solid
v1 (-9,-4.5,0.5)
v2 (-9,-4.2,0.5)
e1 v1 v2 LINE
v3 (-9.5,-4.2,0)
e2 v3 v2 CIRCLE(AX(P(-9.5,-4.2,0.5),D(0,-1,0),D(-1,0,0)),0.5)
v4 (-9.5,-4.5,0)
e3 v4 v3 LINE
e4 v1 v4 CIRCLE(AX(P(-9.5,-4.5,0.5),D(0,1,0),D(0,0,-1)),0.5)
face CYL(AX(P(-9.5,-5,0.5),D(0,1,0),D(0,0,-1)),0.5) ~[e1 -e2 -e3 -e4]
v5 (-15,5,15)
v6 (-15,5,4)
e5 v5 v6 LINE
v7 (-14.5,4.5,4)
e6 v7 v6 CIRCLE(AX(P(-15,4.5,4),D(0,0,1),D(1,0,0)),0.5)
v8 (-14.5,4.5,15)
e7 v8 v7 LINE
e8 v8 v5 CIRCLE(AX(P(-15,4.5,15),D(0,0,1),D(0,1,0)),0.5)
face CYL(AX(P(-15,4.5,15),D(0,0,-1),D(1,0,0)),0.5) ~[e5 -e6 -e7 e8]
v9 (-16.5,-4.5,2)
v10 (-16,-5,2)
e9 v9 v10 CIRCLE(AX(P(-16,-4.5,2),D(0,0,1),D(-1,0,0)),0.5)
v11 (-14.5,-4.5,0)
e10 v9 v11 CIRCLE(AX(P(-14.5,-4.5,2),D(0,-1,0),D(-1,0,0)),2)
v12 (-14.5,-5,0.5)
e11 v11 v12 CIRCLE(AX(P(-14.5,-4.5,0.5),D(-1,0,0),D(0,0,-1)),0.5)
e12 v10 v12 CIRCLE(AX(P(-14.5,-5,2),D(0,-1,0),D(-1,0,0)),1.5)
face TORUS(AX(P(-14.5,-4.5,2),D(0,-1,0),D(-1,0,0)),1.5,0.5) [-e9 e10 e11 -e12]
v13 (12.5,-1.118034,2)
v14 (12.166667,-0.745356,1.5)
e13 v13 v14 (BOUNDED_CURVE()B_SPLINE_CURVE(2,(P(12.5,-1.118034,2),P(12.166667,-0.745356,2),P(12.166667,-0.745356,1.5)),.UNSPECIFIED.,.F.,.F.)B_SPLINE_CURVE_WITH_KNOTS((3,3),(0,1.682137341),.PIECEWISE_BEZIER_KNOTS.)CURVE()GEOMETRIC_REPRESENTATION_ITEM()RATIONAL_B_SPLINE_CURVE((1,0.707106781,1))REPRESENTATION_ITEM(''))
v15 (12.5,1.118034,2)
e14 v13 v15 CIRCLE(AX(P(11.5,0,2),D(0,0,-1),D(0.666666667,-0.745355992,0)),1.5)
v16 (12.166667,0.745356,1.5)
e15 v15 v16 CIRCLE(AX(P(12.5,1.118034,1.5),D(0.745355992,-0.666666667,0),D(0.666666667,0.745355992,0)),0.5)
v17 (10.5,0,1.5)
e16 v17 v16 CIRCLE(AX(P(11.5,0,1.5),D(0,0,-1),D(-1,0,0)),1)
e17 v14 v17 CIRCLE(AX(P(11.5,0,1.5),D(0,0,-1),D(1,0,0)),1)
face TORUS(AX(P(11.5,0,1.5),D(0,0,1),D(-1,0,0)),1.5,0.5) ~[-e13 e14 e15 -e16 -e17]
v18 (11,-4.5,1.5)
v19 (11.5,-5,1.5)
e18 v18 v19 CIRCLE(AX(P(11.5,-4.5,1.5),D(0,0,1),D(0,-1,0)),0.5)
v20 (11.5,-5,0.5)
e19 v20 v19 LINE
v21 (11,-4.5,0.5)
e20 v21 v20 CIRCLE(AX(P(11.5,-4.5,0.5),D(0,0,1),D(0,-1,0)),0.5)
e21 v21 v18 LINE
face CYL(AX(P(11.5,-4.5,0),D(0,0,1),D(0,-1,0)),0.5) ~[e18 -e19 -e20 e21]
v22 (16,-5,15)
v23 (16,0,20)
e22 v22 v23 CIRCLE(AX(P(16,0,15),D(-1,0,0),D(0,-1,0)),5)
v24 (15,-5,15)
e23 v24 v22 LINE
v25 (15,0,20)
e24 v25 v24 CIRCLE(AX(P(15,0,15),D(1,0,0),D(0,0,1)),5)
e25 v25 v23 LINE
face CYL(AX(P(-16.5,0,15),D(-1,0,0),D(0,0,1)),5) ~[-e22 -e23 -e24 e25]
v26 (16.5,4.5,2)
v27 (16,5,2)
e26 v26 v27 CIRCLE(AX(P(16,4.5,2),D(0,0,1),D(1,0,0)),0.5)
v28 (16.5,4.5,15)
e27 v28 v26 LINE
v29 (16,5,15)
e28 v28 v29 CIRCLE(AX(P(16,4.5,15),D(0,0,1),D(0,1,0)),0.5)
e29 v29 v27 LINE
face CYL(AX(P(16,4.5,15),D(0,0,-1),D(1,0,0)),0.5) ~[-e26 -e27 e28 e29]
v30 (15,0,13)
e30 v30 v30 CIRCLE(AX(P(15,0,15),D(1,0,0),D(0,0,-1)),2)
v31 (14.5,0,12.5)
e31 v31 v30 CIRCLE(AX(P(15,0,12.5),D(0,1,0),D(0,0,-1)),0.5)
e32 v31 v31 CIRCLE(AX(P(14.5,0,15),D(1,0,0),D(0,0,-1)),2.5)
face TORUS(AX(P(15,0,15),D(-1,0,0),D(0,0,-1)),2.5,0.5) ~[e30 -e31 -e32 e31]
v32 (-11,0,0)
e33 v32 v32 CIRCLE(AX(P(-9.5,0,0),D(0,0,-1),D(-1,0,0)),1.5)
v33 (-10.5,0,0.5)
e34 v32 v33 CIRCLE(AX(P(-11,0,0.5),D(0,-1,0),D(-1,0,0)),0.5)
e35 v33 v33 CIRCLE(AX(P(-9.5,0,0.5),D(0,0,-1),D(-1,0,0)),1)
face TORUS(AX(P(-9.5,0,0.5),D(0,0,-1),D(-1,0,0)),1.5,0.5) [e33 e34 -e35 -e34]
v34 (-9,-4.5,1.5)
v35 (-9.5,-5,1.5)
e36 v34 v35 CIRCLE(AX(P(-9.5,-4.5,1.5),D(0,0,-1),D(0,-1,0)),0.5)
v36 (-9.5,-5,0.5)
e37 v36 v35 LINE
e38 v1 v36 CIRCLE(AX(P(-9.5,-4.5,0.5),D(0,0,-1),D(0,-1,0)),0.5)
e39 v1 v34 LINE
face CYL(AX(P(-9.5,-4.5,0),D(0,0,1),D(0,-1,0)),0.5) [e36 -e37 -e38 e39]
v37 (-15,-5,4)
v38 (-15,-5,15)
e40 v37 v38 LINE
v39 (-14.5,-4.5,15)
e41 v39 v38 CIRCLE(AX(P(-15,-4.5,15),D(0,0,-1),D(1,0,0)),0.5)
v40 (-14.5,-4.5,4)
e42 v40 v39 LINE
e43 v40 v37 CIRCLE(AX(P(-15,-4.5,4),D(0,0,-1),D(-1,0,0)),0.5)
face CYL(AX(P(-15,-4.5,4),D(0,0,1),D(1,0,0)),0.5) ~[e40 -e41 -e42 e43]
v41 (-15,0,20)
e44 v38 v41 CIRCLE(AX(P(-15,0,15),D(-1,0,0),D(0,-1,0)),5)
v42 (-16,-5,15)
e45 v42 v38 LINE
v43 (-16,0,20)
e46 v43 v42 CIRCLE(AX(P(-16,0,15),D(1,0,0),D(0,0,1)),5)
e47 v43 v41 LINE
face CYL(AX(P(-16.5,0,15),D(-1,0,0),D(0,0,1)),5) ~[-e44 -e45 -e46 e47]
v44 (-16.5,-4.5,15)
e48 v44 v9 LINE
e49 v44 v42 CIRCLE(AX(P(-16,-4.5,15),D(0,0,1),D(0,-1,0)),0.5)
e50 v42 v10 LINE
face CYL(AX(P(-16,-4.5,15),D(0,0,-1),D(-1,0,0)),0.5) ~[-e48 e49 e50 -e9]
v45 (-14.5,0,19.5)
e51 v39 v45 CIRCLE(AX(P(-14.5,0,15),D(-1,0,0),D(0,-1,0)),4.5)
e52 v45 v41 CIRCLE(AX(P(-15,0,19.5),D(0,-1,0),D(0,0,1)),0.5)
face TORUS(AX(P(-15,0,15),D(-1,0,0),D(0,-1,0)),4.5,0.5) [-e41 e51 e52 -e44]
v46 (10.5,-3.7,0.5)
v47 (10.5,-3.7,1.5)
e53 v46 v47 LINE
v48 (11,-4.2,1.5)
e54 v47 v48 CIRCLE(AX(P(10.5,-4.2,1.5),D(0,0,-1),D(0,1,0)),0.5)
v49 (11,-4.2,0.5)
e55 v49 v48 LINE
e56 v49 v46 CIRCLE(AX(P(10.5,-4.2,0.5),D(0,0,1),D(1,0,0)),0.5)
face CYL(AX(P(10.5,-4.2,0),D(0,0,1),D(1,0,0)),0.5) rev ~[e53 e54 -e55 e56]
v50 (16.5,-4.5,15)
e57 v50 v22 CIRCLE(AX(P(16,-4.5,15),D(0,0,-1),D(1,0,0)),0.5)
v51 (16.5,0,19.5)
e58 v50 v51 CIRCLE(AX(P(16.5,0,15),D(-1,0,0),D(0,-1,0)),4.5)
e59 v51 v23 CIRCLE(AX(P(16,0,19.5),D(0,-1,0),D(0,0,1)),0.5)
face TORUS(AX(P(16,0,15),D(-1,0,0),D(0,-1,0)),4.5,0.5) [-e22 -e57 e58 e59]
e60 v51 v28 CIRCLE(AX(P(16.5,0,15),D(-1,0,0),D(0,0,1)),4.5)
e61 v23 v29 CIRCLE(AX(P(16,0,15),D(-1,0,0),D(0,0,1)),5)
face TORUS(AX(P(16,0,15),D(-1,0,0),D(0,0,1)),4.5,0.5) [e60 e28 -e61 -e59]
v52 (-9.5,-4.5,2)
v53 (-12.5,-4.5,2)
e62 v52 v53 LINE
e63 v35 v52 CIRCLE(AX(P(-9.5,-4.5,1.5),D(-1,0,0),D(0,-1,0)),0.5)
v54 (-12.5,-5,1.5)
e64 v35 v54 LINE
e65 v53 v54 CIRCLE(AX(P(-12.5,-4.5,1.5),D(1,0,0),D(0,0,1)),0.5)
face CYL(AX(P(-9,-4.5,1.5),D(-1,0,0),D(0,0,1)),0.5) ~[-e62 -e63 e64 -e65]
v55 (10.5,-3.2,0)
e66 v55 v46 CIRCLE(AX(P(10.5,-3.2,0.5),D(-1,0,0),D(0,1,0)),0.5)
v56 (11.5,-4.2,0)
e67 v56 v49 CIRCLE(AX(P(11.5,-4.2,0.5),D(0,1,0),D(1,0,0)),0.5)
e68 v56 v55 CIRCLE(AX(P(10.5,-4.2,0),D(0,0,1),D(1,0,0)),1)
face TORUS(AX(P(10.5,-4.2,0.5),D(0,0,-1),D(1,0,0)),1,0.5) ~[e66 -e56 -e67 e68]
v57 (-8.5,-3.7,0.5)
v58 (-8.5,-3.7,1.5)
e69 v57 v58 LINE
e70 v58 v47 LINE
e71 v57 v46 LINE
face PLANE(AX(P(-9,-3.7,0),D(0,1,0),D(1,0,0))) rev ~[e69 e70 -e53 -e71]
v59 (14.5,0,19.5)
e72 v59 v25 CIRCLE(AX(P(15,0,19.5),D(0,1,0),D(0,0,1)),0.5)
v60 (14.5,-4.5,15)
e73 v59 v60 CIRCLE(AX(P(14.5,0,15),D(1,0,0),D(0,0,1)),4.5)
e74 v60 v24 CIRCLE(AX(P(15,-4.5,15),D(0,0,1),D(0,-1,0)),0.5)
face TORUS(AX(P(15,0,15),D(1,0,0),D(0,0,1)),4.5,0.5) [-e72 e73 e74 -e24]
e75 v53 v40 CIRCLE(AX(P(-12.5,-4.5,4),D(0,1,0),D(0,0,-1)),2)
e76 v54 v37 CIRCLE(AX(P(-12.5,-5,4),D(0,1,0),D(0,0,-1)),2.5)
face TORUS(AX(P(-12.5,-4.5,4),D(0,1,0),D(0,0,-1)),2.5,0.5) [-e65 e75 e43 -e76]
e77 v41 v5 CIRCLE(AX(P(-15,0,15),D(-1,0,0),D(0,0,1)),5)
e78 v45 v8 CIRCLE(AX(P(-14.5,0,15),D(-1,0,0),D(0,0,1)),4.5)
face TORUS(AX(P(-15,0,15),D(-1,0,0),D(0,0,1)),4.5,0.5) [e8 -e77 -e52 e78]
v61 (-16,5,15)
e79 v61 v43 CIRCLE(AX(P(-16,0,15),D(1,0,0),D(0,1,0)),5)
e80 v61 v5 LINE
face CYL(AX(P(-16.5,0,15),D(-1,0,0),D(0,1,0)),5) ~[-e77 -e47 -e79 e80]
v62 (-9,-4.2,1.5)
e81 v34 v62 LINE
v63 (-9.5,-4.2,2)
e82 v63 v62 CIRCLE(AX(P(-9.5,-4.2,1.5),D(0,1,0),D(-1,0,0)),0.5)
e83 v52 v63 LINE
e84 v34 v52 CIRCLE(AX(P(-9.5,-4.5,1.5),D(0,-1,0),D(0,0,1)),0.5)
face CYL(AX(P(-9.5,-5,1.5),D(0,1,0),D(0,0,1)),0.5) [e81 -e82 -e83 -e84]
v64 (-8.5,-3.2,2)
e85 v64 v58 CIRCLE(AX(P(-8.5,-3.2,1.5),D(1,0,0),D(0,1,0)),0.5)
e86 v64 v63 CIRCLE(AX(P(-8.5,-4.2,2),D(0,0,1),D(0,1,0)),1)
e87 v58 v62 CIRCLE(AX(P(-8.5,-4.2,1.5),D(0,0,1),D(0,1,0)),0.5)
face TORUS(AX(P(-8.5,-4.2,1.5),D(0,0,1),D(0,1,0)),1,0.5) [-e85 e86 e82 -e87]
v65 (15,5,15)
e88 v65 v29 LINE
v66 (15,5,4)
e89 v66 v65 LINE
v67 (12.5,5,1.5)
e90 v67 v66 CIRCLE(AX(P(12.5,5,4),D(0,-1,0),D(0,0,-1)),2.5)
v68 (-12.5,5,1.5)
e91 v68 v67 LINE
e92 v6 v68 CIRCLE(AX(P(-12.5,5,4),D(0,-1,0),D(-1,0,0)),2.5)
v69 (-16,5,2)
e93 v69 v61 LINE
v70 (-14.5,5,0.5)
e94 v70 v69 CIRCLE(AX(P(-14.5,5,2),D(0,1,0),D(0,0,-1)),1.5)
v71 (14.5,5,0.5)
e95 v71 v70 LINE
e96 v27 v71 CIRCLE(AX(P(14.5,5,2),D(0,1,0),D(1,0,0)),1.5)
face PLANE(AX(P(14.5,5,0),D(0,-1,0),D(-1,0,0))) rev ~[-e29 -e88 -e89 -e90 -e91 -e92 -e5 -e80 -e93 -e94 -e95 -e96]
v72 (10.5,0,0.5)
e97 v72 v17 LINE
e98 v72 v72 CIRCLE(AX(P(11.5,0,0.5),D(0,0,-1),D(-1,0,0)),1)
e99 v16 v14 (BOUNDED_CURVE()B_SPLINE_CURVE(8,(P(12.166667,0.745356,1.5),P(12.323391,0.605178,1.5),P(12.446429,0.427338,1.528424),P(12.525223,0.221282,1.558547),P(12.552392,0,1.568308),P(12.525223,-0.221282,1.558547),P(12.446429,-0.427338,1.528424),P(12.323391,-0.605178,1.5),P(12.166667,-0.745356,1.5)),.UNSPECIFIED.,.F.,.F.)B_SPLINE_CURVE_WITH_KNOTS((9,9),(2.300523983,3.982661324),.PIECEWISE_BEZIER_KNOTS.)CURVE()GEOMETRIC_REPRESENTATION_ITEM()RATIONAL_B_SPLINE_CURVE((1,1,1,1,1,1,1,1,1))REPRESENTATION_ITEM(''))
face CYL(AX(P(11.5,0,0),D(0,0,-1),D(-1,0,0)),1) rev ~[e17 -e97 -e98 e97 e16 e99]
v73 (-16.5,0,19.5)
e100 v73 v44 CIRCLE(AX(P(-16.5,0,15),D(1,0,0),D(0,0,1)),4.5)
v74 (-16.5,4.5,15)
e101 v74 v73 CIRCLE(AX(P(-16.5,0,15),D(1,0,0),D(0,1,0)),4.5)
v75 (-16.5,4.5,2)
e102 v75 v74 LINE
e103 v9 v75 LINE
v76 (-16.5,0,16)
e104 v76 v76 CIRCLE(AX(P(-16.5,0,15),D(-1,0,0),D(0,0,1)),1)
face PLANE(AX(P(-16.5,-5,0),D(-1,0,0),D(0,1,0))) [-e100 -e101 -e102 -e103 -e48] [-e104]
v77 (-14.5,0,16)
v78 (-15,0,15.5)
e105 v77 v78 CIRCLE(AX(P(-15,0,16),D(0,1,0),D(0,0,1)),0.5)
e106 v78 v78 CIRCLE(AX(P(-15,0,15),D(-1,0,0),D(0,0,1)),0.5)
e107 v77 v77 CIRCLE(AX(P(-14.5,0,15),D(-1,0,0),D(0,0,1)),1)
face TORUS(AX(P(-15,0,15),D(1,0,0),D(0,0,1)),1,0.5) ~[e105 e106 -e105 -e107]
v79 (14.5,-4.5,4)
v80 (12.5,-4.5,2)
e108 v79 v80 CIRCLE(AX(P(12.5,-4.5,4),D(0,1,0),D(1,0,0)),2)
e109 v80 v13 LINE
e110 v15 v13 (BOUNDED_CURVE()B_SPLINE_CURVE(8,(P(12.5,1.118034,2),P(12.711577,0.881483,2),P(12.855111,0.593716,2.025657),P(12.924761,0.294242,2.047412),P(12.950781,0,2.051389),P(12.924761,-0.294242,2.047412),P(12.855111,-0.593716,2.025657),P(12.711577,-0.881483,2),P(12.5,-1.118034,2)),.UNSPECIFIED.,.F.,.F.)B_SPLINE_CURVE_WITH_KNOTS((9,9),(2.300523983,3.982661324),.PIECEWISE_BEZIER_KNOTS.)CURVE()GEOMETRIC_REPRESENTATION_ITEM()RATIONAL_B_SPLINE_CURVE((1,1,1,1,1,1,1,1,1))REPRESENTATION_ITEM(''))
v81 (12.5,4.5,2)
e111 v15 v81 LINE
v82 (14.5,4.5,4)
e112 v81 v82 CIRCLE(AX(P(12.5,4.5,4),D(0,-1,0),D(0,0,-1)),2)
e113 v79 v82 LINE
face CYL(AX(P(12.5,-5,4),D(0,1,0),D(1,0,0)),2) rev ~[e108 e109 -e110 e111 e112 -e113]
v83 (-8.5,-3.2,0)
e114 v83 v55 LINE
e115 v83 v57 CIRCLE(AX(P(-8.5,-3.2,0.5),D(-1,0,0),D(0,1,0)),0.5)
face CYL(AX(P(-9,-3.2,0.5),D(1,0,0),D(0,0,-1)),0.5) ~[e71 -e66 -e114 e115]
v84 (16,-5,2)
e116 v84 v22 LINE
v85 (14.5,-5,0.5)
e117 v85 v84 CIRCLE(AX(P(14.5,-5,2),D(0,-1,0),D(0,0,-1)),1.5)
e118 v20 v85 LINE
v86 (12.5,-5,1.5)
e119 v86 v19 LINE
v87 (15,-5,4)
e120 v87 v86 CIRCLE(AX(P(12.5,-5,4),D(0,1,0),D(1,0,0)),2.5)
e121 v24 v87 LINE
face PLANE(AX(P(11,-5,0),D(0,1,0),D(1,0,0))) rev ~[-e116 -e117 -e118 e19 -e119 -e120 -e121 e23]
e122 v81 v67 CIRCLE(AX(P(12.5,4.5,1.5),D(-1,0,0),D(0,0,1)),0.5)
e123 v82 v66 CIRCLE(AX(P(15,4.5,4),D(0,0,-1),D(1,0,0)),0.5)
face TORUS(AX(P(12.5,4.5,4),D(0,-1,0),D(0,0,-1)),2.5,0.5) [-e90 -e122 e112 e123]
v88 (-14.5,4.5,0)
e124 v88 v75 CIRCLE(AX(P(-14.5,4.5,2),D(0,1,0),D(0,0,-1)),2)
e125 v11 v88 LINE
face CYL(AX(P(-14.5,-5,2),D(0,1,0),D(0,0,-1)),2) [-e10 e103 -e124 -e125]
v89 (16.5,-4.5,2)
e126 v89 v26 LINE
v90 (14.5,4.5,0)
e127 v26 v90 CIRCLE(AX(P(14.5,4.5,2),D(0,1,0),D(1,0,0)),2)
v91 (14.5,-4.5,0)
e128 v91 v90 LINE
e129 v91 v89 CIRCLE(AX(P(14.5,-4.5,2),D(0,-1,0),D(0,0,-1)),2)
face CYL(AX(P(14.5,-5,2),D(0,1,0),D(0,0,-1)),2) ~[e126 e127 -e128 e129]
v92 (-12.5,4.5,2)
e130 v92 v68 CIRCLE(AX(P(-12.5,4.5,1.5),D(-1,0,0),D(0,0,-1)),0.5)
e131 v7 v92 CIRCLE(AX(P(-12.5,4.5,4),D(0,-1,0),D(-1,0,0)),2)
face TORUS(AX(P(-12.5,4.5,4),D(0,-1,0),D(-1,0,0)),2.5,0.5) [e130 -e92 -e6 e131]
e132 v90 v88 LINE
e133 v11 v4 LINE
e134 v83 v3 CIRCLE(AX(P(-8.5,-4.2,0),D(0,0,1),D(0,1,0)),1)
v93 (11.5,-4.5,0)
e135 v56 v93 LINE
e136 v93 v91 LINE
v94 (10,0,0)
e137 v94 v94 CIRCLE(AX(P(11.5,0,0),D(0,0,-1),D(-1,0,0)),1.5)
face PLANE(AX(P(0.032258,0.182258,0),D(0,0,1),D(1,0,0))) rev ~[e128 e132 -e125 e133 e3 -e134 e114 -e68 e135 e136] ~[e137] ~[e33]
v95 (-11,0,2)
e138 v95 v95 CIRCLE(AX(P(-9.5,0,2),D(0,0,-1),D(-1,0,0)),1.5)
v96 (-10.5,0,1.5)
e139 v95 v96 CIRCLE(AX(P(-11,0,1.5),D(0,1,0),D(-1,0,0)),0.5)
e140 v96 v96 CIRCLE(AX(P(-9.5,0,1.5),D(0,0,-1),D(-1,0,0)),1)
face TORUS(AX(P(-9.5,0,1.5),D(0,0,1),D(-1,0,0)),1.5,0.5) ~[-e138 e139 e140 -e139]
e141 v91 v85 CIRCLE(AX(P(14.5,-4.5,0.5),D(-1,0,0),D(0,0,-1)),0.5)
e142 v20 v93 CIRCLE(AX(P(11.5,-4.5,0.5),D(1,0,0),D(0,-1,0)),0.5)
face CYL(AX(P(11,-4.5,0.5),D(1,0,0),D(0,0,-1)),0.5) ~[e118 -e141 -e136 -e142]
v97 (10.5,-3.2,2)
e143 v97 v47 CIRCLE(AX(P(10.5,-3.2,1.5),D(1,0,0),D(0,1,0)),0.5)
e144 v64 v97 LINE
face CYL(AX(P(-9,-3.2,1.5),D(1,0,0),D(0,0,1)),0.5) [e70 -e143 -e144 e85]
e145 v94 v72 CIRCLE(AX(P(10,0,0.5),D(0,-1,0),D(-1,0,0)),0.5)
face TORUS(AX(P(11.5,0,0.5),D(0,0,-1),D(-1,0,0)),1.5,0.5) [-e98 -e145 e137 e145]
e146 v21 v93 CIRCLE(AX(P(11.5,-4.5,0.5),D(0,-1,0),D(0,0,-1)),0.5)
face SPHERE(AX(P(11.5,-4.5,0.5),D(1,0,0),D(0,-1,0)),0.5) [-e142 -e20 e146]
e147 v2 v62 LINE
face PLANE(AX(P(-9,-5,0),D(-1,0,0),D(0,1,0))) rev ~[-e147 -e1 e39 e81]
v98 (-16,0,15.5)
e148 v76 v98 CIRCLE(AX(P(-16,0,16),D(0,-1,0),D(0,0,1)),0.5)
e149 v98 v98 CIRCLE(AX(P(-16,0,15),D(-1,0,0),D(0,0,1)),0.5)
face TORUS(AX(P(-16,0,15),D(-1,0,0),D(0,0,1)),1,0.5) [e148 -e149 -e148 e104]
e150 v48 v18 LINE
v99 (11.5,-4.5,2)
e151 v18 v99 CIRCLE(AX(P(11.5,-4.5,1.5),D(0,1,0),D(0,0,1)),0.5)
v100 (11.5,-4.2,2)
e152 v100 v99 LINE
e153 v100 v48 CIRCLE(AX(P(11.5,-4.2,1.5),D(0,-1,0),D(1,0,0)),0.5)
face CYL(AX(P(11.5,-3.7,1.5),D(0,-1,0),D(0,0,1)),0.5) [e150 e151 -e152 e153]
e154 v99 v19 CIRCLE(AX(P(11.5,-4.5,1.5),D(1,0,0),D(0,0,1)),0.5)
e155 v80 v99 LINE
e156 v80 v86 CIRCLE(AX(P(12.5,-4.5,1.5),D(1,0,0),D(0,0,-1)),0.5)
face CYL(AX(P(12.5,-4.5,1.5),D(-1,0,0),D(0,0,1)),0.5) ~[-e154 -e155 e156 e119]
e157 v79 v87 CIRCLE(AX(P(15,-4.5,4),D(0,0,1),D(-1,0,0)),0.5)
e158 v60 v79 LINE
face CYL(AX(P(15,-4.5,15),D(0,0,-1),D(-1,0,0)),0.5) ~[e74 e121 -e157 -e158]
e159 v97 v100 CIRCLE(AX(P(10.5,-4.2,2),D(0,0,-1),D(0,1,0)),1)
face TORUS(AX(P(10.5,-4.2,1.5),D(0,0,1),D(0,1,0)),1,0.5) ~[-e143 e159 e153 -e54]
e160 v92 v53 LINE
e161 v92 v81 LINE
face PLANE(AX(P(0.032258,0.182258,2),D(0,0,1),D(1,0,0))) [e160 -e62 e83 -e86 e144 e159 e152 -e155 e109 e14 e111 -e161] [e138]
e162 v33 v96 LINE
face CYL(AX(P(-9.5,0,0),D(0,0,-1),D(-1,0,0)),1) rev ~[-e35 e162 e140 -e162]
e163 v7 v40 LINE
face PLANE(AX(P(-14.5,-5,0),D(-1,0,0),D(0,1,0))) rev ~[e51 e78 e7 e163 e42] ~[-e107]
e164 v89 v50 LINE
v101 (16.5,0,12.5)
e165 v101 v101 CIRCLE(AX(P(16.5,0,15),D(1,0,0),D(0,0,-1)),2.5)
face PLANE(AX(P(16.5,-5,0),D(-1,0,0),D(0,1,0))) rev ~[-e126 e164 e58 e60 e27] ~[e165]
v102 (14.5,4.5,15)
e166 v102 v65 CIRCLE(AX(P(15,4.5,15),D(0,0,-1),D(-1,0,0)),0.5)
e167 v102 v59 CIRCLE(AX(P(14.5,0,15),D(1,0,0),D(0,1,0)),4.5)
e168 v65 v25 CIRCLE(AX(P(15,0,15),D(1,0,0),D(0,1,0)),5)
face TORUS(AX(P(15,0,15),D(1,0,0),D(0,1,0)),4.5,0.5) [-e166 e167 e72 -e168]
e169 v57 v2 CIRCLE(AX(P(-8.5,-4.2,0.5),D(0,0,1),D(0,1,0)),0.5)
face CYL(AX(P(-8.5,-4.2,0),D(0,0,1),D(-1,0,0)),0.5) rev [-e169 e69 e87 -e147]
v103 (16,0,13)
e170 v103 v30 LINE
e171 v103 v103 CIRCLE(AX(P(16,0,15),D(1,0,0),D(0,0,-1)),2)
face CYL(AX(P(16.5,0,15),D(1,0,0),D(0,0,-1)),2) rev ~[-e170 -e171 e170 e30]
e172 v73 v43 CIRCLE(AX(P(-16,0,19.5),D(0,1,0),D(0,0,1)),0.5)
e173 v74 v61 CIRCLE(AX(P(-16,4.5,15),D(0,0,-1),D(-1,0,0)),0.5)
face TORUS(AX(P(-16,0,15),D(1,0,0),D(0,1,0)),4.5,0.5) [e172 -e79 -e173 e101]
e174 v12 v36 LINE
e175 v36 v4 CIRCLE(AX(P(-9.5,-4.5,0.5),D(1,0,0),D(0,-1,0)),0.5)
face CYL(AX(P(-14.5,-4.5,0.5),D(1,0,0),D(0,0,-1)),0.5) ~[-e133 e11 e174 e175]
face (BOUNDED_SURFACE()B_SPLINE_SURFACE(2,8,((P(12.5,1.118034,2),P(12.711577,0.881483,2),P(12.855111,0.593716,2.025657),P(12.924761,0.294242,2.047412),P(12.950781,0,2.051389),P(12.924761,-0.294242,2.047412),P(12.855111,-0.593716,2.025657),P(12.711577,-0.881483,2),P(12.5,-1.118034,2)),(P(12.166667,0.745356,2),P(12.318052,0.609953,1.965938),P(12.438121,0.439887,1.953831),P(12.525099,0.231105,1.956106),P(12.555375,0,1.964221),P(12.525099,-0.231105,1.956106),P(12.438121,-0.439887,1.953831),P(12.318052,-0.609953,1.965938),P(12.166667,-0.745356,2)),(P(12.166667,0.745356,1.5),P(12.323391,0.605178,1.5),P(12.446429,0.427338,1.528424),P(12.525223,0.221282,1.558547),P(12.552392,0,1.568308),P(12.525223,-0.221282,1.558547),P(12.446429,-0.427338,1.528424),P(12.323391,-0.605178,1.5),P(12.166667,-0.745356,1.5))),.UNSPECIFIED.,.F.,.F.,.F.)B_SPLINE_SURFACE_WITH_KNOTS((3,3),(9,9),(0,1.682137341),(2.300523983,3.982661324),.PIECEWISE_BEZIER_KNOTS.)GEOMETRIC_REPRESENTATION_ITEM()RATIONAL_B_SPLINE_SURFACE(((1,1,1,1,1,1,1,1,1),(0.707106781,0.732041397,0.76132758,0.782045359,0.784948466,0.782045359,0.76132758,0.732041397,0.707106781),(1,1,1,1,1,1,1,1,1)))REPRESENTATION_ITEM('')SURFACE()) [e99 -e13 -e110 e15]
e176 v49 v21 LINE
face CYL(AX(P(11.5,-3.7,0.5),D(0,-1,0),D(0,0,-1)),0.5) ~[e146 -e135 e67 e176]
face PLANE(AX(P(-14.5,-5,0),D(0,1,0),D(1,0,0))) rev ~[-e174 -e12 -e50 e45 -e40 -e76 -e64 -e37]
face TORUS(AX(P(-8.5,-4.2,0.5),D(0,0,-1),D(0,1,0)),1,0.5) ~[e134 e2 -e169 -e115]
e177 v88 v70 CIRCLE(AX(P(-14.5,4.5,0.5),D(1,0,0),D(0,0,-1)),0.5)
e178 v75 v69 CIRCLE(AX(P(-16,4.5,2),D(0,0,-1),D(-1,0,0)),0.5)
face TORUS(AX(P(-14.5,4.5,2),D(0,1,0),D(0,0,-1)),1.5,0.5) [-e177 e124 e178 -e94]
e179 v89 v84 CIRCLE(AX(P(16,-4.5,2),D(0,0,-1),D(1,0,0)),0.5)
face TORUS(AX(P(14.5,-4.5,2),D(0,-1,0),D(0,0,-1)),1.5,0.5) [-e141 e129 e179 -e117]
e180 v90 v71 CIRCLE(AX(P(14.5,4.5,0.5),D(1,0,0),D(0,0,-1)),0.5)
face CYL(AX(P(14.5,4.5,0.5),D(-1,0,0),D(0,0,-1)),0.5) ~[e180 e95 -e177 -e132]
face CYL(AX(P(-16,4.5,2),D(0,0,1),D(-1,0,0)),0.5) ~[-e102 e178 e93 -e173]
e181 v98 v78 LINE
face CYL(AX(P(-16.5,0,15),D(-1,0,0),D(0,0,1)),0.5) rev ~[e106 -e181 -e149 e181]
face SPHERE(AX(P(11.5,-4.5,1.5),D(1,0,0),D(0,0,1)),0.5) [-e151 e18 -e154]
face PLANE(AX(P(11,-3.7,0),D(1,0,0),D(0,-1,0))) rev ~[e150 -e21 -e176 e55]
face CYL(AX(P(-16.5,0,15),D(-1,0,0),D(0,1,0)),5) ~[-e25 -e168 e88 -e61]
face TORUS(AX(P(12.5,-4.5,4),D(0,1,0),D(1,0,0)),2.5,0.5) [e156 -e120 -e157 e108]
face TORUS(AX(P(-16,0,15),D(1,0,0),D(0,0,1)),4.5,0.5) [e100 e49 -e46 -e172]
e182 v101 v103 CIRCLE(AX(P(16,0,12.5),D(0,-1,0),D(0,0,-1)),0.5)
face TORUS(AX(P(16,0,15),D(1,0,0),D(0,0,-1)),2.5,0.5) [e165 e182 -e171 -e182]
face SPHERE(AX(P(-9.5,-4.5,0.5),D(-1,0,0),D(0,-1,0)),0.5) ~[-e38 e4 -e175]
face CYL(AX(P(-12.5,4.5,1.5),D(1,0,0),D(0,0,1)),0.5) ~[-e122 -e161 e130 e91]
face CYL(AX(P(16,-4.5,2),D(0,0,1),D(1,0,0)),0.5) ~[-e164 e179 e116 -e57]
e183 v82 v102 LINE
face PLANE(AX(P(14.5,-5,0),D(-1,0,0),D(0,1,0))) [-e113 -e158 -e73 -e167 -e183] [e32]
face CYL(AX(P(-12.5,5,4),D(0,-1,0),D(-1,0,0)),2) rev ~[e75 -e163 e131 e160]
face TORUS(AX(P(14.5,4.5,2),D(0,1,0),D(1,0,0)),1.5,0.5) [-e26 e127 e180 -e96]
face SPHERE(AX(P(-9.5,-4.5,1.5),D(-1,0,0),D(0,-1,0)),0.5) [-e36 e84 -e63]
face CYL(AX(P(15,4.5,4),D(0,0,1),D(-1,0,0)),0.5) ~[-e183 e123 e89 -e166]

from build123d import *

# Parameters (mm, degrees)
ESQUISSE1_W             = 2
ESQUISSE1_H             = 10
BOSS_EXTRU_1_DEPTH      = 20
BOSS_EXTRU_1_2_DEPTH    = 20
BOSS_EXTRU_3_DEPTH      = 2
ENL_V_MAT_EXTRU_2_DEPTH = 50
CONG_1_R                = 2
ESQUISSE2_4_R           = 0.5
ENL_V_MAT_EXTRU_4_DEPTH = 10
CONG_2_R                = 2
ESQUISSE3_R             = 1
ENL_V_MAT_EXTRU_3_DEPTH = 10
CONG_3_R                = 0.5
ESQUISSE5_R             = 2
ENL_V_MAT_EXTRU_5_DEPTH = 10
CONG_4_R                = 0.5


with BuildPart() as part:
    # Esquisse1 → Boss.-Extru.1 (new body)
    with BuildSketch(Plane.XY):
        with Locations((-15.5, 0)):
            Rectangle(ESQUISSE1_W, ESQUISSE1_H)
    extrude(amount=BOSS_EXTRU_1_DEPTH)



with BuildPart() as body_2:
    # Esquisse1 → Boss.-Extru.1 2 (new body)
    with BuildSketch(Plane.XY):
        with Locations((15.5, 0)):
            Rectangle(ESQUISSE1_W, ESQUISSE1_H)
    extrude(amount=BOSS_EXTRU_1_2_DEPTH)


with BuildPart() as part_1:
    add(part.part)

    add(body_2.part)  # Boss.-Extru.3 merges body 2
    # Esquisse1<4> → Boss.-Extru.3 (add)
    with BuildSketch(Plane.XY):
        Polygon((14.5, 5), (-14.5, 5), (-14.5, -5), (-9, -5), (-9, -3.7), (11, -3.7), (11, -5), (14.5, -5), align=None)
    extrude(amount=BOSS_EXTRU_3_DEPTH)

    # Esquisse2 → Enlèv. mat.-Extru.2 (cut)
    with BuildSketch(Plane.ZY.offset(16.5)):
        with BuildLine():
            Line((20, 0), (20, 5))
            Line((20, 5), (15, 5))
            ThreePointArc((15, 5), (18.535533906, 3.535533906), (20, 0))
        make_face()
        with BuildLine():
            Line((20, -5), (20, 0))
            ThreePointArc((20, 0), (18.535533906, -3.535533906), (15, -5))
            Line((15, -5), (20, -5))
        make_face()
    extrude(amount=-ENL_V_MAT_EXTRU_2_DEPTH, mode=Mode.SUBTRACT)

    # Congé1
    cong_1_edges = [part_1.edges().sort_by_distance(p)[0] for p in [
        (-16.5, 0, 0),
    ]]
    fillet(cong_1_edges, radius=CONG_1_R)

    # Esquisse2<4> → Enlèv. mat.-Extru.4 (cut)
    with BuildSketch(Plane.ZY.offset(16.5)):
        with Locations((15, 0)):
            Circle(ESQUISSE2_4_R)
    extrude(amount=-ENL_V_MAT_EXTRU_4_DEPTH, mode=Mode.SUBTRACT)

    # Congé2
    cong_2_edges = [part_1.edges().sort_by_distance(p)[0] for p in [
        (16.5, 0, 0),
        (14.5, 0, 2),
        (-14.5, 0, 2),
    ]]
    fillet(cong_2_edges, radius=CONG_2_R)

    # Esquisse3 → Enlèv. mat.-Extru.3 (cut)
    with BuildSketch(Plane(origin=(0, 0, 0), x_dir=(-1, 0, 0), z_dir=(0, 0, -1))):
        with Locations((9.5, 0)):
            Circle(ESQUISSE3_R)
        with Locations((-11.5, 0)):
            Circle(ESQUISSE3_R)
    extrude(amount=-ENL_V_MAT_EXTRU_3_DEPTH, mode=Mode.SUBTRACT)

    # Congé3
    cong_3_edges = [part_1.edges().sort_by_distance(p)[0] for p in [
        (-16.5, 0, 20),
        (-16.5, 5, 8.5),
        (-15.914213562, 5, 0.585786438),
        (0, 5, 0),
        (15.914213562, 5, 0.585786438),
        (12.75, -5, 0),
        (-11.75, -5, 0),
        (15.914213562, -5, 0.585786438),
        (13.914213562, -5, 2.585786438),
        (16.5, 5, 8.5),
        (16.5, -5, 8.5),
        (16.5, 0, 20),
        (14.5, -5, 9.5),
        (14.5, 0, 20),
        (13.914213562, 5, 2.585786438),
        (14.5, 5, 9.5),
        (11.75, -5, 2),
        (-14.5, 0, 20),
        (-14.5, 5, 9.5),
        (-13.914213562, 5, 2.585786438),
        (0, 5, 2),
        (12.5, 0, 0),
        (11.5, 1, 2),
        (-8.5, 0, 0),
        (-8.5, 0, 2),
        (-15.914213562, -5, 0.585786438),
        (-16.5, -5, 8.5),
        (-10.75, -5, 2),
        (-13.914213562, -5, 2.585786438),
        (-14.5, -5, 9.5),
        (11, -4.35, 2),
        (11, -3.7, 1),
        (11, -5, 1),
        (11, -4.35, 0),
        (-9, -5, 1),
        (-9, -4.35, 0),
        (-9, -4.35, 2),
        (-9, -3.7, 1),
        (1, -3.7, 2),
        (1, -3.7, 0),
        (-14.5, 0, 14.5),
        (-16.5, 0, 14.5),
    ]]
    fillet(cong_3_edges, radius=CONG_3_R)

    # Esquisse5 → Enlèv. mat.-Extru.5 (cut)
    with BuildSketch(Plane(origin=(16.5, 0, 0), x_dir=(0, 0, -1), z_dir=(1, 0, 0))):
        with Locations((-15, 0)):
            Circle(ESQUISSE5_R)
    extrude(amount=-ENL_V_MAT_EXTRU_5_DEPTH, mode=Mode.SUBTRACT)

    # Congé4
    cong_4_edges = [part_1.edges().sort_by_distance(p)[0] for p in [
        (14.5, 0, 17),
        (16.5, 0, 17),
    ]]
    fillet(cong_4_edges, radius=CONG_4_R)


solid = part_1.part
